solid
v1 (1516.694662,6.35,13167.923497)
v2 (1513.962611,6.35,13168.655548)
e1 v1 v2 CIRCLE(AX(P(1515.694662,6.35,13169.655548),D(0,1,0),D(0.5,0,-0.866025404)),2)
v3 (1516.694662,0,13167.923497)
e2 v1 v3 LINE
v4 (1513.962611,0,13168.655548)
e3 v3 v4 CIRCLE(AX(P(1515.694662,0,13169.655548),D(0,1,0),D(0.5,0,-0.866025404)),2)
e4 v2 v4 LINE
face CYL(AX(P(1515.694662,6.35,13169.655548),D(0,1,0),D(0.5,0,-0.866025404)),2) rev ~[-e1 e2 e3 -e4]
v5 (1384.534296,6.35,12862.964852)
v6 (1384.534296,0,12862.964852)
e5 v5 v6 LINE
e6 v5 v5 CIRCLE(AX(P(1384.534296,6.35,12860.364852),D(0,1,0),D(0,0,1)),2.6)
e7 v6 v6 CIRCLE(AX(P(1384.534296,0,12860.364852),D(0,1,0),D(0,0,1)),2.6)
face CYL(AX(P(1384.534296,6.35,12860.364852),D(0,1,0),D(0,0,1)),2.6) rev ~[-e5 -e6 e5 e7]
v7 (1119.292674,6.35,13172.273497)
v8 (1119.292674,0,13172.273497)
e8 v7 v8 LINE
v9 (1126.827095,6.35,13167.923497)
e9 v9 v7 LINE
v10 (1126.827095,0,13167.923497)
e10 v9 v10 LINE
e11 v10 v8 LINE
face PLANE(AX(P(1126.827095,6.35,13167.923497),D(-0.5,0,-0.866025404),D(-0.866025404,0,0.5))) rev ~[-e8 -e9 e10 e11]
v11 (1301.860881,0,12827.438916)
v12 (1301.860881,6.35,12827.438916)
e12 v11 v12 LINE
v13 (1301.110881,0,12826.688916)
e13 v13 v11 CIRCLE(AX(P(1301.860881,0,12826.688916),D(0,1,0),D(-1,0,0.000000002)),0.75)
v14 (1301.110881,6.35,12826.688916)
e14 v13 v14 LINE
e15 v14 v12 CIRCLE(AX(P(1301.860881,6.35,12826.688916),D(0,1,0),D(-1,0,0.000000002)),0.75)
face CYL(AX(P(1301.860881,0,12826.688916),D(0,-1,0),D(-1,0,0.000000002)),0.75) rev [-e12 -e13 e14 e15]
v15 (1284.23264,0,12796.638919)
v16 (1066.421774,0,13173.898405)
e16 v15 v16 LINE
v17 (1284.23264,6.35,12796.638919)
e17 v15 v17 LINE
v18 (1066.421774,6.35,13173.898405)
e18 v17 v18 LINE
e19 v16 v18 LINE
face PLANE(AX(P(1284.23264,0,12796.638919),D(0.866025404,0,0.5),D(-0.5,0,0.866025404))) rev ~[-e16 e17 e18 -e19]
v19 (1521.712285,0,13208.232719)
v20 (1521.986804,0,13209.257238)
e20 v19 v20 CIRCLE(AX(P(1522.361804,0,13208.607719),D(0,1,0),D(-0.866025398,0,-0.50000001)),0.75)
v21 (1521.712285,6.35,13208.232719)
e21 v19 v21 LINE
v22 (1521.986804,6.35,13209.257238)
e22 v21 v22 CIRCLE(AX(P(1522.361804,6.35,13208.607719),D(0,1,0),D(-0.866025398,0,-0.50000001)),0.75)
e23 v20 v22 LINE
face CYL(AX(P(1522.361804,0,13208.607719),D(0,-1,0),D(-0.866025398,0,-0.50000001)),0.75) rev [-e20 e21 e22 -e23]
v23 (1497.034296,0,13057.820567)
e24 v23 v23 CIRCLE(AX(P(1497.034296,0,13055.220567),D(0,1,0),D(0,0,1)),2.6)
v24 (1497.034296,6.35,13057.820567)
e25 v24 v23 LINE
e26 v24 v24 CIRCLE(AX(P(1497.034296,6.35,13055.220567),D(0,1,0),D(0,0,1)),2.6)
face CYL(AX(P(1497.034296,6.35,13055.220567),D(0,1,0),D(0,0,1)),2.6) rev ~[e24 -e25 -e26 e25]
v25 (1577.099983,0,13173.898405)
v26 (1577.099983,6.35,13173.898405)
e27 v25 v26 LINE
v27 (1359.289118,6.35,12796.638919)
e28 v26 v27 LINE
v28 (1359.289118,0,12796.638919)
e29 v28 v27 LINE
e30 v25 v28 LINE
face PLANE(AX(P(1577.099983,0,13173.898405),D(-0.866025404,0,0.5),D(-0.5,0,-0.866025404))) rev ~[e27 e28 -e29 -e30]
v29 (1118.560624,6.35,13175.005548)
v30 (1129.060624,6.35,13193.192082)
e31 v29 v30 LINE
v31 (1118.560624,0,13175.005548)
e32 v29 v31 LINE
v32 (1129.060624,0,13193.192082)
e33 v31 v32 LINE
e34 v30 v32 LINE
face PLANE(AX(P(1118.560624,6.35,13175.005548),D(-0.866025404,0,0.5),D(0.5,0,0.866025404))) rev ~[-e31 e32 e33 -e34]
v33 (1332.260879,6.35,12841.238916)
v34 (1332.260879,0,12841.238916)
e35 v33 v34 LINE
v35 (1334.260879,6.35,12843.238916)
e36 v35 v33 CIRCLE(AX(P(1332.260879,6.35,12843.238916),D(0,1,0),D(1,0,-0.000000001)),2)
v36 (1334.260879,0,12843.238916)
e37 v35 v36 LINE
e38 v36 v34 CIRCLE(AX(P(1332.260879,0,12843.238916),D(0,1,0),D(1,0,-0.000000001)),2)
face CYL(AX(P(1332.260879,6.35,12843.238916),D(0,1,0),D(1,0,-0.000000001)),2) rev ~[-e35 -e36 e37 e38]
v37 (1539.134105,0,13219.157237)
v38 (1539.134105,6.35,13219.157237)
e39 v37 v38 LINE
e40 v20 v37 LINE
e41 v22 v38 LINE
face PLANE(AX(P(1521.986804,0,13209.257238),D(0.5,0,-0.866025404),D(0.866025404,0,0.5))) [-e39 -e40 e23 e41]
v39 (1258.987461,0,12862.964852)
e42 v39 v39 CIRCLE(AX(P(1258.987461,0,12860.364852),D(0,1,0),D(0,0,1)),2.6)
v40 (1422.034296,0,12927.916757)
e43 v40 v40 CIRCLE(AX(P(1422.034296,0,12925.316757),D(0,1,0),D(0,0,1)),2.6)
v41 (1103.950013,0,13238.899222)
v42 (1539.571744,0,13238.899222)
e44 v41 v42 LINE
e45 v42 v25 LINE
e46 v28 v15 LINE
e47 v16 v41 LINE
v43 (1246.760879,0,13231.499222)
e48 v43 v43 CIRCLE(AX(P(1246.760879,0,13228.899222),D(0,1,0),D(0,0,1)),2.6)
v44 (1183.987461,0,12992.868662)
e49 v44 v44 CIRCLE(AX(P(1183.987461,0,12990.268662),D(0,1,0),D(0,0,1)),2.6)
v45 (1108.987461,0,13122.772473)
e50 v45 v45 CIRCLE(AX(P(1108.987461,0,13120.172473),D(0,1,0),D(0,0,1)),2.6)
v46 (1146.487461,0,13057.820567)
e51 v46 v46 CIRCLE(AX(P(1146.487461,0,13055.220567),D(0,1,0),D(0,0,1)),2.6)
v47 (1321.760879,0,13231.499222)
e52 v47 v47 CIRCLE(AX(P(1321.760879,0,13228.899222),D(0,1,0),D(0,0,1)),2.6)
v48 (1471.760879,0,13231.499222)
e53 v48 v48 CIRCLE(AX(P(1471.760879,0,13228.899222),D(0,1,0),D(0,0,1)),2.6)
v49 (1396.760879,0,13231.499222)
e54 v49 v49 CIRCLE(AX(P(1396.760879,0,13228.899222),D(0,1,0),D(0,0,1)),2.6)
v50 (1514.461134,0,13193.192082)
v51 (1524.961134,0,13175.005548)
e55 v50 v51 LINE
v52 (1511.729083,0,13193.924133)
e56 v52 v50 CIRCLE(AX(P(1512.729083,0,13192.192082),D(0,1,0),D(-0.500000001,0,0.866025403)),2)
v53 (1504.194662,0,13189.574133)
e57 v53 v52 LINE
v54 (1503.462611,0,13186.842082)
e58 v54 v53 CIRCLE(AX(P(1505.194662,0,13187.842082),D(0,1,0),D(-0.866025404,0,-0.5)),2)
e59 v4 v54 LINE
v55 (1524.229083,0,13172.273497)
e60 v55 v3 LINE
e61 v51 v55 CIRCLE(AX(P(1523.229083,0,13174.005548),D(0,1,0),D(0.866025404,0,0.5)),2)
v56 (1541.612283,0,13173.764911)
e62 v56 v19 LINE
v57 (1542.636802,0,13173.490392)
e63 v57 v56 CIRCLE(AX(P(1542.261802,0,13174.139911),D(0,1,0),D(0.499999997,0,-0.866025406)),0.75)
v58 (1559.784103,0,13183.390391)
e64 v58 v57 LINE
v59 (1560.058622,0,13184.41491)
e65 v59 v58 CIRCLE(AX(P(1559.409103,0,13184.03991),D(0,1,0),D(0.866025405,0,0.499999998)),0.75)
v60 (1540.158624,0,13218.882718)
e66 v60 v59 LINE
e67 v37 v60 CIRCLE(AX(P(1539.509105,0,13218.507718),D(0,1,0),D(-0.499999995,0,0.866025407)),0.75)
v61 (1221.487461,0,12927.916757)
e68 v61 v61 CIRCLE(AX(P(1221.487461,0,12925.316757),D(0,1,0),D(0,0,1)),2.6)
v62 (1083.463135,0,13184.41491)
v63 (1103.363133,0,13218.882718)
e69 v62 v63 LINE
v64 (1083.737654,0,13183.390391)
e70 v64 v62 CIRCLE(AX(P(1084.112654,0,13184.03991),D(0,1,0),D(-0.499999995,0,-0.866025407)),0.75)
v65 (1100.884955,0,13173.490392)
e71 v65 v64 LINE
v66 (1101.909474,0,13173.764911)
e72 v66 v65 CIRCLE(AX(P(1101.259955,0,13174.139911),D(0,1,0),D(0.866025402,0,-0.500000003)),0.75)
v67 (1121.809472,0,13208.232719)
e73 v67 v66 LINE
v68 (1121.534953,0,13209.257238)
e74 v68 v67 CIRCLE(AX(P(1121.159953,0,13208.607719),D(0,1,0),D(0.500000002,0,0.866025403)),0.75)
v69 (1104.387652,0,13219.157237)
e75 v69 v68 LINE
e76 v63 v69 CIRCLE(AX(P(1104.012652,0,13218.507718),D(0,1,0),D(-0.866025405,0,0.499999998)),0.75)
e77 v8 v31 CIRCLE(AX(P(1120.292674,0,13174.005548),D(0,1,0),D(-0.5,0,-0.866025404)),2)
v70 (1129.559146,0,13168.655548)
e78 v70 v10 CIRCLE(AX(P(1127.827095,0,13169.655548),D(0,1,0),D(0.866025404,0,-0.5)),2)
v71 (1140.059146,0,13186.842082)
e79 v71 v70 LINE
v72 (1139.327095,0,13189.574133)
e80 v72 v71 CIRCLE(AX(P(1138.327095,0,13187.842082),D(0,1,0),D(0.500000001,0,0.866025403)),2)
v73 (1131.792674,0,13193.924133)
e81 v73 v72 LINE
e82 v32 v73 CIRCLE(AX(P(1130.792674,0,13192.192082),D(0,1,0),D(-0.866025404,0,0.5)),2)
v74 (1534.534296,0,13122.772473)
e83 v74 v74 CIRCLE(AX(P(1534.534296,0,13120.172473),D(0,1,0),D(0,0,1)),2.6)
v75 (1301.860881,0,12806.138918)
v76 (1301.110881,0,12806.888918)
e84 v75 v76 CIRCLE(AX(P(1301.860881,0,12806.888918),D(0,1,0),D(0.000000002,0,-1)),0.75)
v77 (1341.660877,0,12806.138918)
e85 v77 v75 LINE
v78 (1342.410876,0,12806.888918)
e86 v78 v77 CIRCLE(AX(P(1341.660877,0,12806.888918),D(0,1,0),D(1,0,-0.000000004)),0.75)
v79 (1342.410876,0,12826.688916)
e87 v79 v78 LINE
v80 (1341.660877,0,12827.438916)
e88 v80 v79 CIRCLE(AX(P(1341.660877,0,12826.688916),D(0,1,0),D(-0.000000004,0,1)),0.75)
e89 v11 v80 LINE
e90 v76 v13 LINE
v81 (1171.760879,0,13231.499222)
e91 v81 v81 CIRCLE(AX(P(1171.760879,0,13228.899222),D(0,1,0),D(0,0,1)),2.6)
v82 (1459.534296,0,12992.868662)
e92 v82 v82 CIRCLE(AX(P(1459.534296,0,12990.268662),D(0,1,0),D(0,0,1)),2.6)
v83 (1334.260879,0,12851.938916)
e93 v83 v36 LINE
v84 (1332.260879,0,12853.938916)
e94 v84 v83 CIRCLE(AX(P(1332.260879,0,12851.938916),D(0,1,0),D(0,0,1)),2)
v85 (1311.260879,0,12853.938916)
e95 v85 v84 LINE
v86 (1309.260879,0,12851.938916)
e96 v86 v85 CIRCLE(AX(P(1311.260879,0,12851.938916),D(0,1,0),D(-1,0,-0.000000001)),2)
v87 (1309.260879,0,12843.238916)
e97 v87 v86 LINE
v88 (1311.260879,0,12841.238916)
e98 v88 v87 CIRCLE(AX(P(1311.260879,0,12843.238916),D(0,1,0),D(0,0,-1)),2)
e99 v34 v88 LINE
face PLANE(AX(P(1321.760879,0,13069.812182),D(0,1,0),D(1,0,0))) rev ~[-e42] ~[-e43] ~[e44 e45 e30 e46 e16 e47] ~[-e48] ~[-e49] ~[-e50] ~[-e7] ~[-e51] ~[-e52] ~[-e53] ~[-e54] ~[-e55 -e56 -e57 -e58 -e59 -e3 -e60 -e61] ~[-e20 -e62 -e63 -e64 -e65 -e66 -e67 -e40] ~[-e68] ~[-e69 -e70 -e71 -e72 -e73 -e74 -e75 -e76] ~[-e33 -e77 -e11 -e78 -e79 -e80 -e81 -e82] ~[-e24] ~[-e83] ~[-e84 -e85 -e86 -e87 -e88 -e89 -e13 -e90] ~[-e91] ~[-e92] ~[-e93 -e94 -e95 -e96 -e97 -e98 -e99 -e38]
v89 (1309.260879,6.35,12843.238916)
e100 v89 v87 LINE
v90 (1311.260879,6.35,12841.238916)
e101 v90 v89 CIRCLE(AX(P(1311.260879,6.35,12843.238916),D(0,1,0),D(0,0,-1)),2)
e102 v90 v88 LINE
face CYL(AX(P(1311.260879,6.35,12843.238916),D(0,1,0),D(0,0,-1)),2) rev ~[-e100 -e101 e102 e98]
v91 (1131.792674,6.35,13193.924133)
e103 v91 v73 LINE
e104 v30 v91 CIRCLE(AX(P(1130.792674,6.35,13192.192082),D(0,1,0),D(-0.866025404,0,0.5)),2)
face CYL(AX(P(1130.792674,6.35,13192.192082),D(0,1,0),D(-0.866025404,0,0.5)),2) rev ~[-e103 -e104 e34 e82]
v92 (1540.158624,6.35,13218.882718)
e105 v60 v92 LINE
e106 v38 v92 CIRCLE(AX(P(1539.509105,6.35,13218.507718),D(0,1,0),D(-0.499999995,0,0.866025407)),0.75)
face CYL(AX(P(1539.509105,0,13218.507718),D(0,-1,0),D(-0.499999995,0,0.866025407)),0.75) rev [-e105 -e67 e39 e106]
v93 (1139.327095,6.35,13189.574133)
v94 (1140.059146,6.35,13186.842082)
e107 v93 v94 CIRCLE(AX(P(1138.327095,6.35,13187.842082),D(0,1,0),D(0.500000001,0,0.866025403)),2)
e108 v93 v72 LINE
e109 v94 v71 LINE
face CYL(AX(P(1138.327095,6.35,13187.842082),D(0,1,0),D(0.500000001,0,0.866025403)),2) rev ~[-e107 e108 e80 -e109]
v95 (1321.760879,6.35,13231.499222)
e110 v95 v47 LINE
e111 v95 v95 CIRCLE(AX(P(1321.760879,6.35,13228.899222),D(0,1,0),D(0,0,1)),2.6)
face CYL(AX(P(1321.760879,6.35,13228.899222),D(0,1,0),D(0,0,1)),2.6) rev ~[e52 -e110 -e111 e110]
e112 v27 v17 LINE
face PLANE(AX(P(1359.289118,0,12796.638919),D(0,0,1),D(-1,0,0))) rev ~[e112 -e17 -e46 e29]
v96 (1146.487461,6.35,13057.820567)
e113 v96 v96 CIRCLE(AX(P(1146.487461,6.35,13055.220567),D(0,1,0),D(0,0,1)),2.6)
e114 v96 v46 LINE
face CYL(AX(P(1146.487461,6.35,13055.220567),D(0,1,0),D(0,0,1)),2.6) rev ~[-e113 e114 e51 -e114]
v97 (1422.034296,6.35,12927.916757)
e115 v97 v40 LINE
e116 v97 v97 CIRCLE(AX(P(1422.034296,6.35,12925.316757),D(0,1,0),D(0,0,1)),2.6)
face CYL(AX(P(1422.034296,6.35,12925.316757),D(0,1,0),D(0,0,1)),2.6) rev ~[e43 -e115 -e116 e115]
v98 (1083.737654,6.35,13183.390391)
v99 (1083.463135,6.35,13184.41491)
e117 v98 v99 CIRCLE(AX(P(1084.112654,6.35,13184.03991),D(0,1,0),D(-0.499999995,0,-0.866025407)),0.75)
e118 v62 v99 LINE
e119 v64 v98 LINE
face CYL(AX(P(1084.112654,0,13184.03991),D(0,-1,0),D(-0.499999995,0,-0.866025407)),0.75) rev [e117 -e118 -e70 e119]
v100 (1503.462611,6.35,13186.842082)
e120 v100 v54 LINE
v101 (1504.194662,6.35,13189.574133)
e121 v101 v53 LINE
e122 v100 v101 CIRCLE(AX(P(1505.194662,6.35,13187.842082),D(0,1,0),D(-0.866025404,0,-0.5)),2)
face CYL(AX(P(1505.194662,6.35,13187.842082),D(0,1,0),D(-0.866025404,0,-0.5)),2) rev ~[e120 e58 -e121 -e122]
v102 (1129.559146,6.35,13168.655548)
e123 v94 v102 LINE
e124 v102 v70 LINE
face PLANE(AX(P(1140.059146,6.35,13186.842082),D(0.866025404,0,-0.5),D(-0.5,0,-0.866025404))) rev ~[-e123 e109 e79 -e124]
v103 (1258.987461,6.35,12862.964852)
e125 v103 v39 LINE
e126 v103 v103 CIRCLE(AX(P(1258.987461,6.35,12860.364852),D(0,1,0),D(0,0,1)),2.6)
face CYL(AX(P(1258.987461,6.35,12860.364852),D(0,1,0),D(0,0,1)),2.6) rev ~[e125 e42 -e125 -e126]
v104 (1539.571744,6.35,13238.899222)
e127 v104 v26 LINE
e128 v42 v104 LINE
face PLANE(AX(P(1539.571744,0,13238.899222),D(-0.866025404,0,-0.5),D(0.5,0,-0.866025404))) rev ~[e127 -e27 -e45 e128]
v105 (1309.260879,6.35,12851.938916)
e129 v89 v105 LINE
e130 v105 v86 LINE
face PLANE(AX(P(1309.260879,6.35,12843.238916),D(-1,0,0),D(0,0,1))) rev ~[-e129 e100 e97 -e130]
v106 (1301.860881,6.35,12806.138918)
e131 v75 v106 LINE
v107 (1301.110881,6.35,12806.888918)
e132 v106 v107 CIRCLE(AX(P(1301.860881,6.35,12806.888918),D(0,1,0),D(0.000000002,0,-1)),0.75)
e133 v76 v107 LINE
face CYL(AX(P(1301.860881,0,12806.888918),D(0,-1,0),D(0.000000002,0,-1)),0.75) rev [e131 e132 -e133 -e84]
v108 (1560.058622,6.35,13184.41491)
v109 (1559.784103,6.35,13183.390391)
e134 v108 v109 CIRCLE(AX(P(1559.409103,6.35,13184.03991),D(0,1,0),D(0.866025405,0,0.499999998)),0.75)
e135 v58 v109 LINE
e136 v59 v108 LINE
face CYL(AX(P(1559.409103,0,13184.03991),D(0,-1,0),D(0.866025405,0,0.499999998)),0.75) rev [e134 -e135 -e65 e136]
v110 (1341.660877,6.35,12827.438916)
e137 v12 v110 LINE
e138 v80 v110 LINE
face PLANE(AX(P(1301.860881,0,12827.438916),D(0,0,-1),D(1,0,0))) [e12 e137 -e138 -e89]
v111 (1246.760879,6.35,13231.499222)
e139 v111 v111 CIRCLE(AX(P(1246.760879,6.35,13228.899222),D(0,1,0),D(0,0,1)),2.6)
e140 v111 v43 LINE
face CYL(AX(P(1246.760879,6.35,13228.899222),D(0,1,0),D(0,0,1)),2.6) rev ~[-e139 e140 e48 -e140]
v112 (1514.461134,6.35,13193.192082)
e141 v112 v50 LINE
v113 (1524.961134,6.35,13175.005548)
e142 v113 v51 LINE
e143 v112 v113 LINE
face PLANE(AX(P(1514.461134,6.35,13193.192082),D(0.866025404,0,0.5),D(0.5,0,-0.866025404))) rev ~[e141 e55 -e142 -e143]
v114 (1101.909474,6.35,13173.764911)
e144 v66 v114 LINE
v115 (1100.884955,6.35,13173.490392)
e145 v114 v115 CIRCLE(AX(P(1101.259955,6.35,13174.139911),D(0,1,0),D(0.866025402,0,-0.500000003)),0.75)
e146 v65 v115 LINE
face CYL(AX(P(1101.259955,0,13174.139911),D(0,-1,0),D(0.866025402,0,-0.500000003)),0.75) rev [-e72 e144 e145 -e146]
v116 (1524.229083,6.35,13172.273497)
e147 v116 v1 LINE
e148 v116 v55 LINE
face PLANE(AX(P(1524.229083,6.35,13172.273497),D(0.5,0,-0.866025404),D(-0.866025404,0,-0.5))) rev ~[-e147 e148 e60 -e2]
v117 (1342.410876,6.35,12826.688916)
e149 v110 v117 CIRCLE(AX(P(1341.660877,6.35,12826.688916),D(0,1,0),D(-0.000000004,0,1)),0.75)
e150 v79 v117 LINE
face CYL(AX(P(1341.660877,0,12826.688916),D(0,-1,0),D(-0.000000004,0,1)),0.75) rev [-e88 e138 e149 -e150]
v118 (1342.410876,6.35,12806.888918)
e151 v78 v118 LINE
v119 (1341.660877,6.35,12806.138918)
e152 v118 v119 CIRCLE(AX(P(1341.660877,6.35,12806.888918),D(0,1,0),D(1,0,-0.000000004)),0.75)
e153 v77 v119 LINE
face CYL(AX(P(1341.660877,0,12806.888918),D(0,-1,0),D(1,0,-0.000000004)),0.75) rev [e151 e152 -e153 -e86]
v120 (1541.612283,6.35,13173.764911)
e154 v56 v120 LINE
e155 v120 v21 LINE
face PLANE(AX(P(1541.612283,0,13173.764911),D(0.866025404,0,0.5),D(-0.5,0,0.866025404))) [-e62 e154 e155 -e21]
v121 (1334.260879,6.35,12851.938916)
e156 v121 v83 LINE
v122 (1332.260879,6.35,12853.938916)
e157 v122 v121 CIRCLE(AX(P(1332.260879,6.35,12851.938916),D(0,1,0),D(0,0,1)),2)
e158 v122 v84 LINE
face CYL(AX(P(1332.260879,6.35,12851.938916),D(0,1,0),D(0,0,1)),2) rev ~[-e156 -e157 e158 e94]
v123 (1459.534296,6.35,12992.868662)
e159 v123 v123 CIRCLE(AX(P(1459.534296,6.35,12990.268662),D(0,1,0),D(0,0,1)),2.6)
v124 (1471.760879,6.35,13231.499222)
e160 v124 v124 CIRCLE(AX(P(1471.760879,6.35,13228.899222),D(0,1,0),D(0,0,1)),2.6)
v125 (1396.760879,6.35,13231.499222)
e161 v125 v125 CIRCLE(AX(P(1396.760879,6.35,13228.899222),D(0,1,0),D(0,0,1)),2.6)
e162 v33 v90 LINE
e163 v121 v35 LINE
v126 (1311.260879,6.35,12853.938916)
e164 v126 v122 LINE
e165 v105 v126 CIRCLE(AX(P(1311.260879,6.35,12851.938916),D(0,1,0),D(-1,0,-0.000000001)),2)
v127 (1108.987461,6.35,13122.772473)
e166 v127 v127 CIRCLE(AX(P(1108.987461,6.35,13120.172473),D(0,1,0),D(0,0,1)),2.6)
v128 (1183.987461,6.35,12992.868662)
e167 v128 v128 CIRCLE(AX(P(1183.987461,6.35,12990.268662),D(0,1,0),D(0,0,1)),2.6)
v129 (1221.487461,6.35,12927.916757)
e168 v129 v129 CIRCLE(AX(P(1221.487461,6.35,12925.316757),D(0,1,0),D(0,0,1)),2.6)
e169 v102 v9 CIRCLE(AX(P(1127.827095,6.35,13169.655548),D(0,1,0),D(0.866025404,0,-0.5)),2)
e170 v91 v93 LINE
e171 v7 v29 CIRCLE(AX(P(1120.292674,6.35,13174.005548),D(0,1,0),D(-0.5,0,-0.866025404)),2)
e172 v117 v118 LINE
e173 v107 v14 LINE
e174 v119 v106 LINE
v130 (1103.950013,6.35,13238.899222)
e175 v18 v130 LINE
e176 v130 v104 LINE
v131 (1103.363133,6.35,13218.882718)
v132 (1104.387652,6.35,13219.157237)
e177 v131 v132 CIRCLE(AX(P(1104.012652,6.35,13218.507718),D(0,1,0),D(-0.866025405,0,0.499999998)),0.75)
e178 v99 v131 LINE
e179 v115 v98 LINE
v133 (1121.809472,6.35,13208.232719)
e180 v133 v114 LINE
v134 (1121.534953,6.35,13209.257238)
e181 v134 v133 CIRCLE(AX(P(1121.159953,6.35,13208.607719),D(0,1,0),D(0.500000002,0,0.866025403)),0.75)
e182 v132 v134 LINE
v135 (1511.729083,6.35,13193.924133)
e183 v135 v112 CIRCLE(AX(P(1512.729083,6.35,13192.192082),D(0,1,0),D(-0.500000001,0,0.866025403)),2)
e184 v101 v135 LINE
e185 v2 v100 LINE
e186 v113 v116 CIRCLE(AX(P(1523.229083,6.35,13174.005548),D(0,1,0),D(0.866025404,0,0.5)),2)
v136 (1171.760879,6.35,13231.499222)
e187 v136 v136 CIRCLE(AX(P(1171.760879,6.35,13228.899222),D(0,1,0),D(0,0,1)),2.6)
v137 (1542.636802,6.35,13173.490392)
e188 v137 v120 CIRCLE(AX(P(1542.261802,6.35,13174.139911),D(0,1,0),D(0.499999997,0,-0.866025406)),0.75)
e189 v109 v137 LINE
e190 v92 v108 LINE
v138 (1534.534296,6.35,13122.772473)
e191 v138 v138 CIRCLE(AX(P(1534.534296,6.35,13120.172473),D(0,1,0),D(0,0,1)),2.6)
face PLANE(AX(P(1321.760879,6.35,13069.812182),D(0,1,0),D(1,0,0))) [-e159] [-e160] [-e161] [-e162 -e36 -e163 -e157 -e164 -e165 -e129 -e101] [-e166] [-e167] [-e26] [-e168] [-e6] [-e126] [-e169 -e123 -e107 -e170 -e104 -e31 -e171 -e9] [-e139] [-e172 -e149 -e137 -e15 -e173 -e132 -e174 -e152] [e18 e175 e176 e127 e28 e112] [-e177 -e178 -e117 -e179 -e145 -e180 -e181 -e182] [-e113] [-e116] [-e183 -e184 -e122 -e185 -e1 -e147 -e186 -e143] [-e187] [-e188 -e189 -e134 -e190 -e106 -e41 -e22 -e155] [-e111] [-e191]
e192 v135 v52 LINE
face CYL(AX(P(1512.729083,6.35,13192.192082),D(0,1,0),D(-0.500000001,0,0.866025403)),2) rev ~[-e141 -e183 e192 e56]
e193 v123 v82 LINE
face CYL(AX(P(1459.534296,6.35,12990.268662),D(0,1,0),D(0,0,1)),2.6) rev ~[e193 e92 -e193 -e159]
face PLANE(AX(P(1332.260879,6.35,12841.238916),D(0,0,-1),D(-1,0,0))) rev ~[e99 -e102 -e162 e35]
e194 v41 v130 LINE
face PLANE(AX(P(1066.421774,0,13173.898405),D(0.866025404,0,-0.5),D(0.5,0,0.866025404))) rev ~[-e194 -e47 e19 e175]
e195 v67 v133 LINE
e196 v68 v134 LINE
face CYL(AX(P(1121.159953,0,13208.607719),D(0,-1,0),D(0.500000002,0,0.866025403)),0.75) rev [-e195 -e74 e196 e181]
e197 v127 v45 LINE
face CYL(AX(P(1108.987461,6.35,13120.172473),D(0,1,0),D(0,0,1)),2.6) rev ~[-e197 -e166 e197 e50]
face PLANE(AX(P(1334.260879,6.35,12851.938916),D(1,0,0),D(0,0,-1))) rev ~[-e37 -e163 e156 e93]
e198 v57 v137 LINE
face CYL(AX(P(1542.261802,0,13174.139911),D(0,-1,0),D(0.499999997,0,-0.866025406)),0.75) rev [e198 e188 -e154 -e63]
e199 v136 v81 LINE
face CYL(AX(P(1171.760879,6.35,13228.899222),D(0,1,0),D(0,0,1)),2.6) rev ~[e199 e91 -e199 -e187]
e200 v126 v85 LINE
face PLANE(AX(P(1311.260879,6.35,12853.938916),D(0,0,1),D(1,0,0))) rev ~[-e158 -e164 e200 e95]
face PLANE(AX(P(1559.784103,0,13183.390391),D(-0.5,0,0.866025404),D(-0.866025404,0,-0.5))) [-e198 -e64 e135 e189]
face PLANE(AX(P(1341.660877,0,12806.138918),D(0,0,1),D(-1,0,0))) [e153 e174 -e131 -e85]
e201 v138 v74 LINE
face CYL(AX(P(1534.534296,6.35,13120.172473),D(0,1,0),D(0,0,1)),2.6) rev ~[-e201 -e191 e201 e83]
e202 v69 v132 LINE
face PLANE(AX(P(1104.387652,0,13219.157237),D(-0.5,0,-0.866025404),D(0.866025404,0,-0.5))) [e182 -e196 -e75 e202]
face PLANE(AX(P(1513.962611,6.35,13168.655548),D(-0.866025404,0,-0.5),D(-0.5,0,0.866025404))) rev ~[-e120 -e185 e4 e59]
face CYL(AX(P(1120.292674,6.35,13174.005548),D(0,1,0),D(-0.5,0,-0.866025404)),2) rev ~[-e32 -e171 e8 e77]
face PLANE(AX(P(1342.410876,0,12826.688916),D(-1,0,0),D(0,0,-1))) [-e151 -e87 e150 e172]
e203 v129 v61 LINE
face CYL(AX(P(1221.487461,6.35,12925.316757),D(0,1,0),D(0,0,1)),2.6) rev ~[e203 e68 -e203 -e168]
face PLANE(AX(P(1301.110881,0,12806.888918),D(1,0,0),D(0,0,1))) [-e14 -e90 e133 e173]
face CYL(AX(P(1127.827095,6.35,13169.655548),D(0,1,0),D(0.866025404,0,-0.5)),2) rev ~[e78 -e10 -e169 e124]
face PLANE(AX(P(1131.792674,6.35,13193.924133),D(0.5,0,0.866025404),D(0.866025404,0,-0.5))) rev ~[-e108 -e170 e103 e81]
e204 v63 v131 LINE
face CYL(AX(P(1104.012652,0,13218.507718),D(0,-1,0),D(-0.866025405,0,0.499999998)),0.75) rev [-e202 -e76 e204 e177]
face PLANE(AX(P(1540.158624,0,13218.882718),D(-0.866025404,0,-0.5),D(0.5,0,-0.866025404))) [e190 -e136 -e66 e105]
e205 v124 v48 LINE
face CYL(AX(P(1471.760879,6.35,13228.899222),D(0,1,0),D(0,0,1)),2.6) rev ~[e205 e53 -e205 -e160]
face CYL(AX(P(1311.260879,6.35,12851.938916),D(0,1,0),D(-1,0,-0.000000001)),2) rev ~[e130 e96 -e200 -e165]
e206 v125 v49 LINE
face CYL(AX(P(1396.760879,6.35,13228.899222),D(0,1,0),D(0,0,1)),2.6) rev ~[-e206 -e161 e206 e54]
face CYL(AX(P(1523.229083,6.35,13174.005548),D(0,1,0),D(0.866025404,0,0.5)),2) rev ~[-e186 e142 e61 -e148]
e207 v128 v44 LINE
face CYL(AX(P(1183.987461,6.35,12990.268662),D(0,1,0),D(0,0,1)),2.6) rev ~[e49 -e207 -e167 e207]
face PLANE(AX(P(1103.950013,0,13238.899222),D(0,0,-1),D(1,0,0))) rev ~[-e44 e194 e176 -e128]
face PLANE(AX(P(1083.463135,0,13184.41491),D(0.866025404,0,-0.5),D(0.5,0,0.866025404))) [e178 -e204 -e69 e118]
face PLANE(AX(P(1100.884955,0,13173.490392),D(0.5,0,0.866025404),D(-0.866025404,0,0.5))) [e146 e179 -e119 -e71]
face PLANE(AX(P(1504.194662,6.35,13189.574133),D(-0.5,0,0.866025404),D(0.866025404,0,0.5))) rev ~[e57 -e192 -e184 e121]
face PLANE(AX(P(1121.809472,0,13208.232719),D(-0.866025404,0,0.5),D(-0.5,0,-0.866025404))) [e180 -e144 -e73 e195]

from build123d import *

# Parameters (mm, degrees)
SKETCH1_R           = 150.5
BOSS_EXTRUDE1_DEPTH = 6.35
SKETCH3_R           = 2.6
CUT_EXTRUDE2_DEPTH  = 10
CUT_EXTRUDE3_DEPTH  = 10


with BuildPart() as part:
    # Sketch1 → Boss-Extrude1 (new body)
    # profile 1 of 2: a face of its own
    with BuildSketch(Plane(origin=(-388.281715987, 0, -288.185661777), x_dir=(1, 0, 0), z_dir=(0, 1, 0))):
        Polygon((1927.853460271, -13527.084883536), (1965.381699324, -13462.084066777), (1747.570833697, -13084.824581071), (1672.514355591, -13084.824581071), (1454.703489965, -13462.084066777), (1492.231729019, -13527.084883536), align=None)
        with Locations((1710.042594644, -13357.997843795)):
            Circle(SKETCH1_R, mode=Mode.SUBTRACT)
        with BuildLine():
            ThreePointArc((1909.99400131, -13496.418380494), (1909.919076, -13496.98749472), (1910.268520339, -13497.442899434))
            Line((1910.268520339, -13497.442899434), (1927.415821483, -13507.342898365))
            ThreePointArc((1927.415821483, -13507.342898365), (1927.984935702, -13507.417823673), (1928.440340423, -13507.068379346))
            Line((1928.440340423, -13507.068379346), (1948.340338275, -13472.600571997))
            ThreePointArc((1948.340338275, -13472.600571997), (1948.415263583, -13472.031457775), (1948.065819252, -13471.576053055))
            Line((1948.065819252, -13471.576053055), (1930.918518105, -13461.676054122))
            ThreePointArc((1930.918518105, -13461.676054122), (1930.349403886, -13461.601128813), (1929.893999164, -13461.95057314))
            Line((1929.893999164, -13461.95057314), (1909.99400131, -13496.418380494))
        make_face(mode=Mode.SUBTRACT)
        with BuildLine():
            ThreePointArc((1472.019370034, -13471.57605305), (1471.669925699, -13472.031457773), (1471.744851013, -13472.600571998))
            Line((1471.744851013, -13472.600571998), (1491.644848864, -13507.068379347))
            ThreePointArc((1491.644848864, -13507.068379347), (1492.100253585, -13507.41782368), (1492.669367808, -13507.342898369))
            Line((1492.669367808, -13507.342898369), (1509.816668952, -13497.442899438))
            ThreePointArc((1509.816668952, -13497.442899438), (1510.166113284, -13496.987494718), (1510.091187977, -13496.418380495))
            Line((1510.091187977, -13496.418380495), (1490.191190123, -13461.950573141))
            ThreePointArc((1490.191190123, -13461.950573141), (1489.735785404, -13461.60112881), (1489.166671181, -13461.676054117))
            Line((1489.166671181, -13461.676054117), (1472.019370034, -13471.57605305))
        make_face(mode=Mode.SUBTRACT)
        with BuildLine():
            ThreePointArc((1689.392596873, -13114.874577827), (1689.612266763, -13115.404907856), (1690.142596792, -13115.62457775))
            Line((1690.142596792, -13115.62457775), (1729.942592497, -13115.62457775))
            ThreePointArc((1729.942592497, -13115.62457775), (1730.472922528, -13115.404907859), (1730.692592416, -13114.874577827))
            Line((1730.692592416, -13114.874577827), (1730.692592416, -13095.074579966))
            ThreePointArc((1730.692592416, -13095.074579966), (1730.472922526, -13094.544249938), (1729.942592497, -13094.324580043))
            Line((1729.942592497, -13094.324580043), (1690.142596792, -13094.324580043))
            ThreePointArc((1690.142596792, -13094.324580043), (1689.612266761, -13094.544249935), (1689.392596873, -13095.074579966))
            Line((1689.392596873, -13095.074579966), (1689.392596873, -13114.874577827))
        make_face(mode=Mode.SUBTRACT)
    # profile 2 of 2: a face of its own
    with BuildSketch(Plane(origin=(-388.281715987, 0, -288.185661777), x_dir=(1, 0, 0), z_dir=(0, 1, 0))):
        with Locations((1710.042594644, -13357.997843795)):
            Circle(SKETCH1_R)
    extrude(amount=BOSS_EXTRUDE1_DEPTH)

    # Sketch3 → Cut-Extrude2 (cut)
    with BuildSketch(Plane(origin=(0, 6.35, 0), x_dir=(1, 0, 0), z_dir=(0, 1, 0))):
        with Locations(Location((1183.987460829, -12990.268662147, 0), (0, 0, 270))):
            Circle(SKETCH3_R)
        with Locations(Location((1146.487460829, -13055.220567431, 0), (0, 0, 270))):
            Circle(SKETCH3_R)
        with Locations(Location((1108.987460829, -13120.172472715, 0), (0, 0, 270))):
            Circle(SKETCH3_R)
        with Locations(Location((1221.487460829, -12925.316756863, 0), (0, 0, 270))):
            Circle(SKETCH3_R)
        with Locations(Location((1258.987460829, -12860.364851579, 0), (0, 0, 270))):
            Circle(SKETCH3_R)
        with Locations(Location((1459.534296487, -12990.268662148, 0), (0, 0, 270))):
            Circle(SKETCH3_R)
        with Locations(Location((1497.034296487, -13055.220567432, 0), (0, 0, 270))):
            Circle(SKETCH3_R)
        with Locations(Location((1534.534296487, -13120.172472716, 0), (0, 0, 270))):
            Circle(SKETCH3_R)
        with Locations(Location((1422.034296487, -12925.316756864, 0), (0, 0, 270))):
            Circle(SKETCH3_R)
        with Locations(Location((1384.534296487, -12860.364851581, 0), (0, 0, 270))):
            Circle(SKETCH3_R)
        with Locations(Location((1321.760878657, -13228.899221759, 0), (0, 0, 270))):
            Circle(SKETCH3_R)
        with Locations(Location((1246.760878657, -13228.899221759, 0), (0, 0, 270))):
            Circle(SKETCH3_R)
        with Locations(Location((1171.760878657, -13228.899221759, 0), (0, 0, 270))):
            Circle(SKETCH3_R)
        with Locations(Location((1396.760878657, -13228.899221759, 0), (0, 0, 270))):
            Circle(SKETCH3_R)
        with Locations(Location((1471.760878657, -13228.899221759, 0), (0, 0, 270))):
            Circle(SKETCH3_R)
    extrude(amount=-CUT_EXTRUDE2_DEPTH, mode=Mode.SUBTRACT)

    # Sketch4 → Cut-Extrude3 (cut)
    with BuildSketch(Plane(origin=(0, 6.35, 0), x_dir=(1, 0, 0), z_dir=(0, 1, 0))):
        with BuildLine():
            Line((1118.560623635, -13175.005548302), (1129.060623635, -13193.192081781))
            ThreePointArc((1129.060623635, -13193.192081781), (1130.275036352, -13194.123933434), (1131.792674443, -13193.924132589))
            Line((1131.792674443, -13193.924132589), (1139.327095456, -13189.574132589))
            ThreePointArc((1139.327095456, -13189.574132589), (1140.258947108, -13188.359719871), (1140.059146263, -13186.842081781))
            Line((1140.059146263, -13186.842081781), (1129.559146263, -13168.655548302))
            ThreePointArc((1129.559146263, -13168.655548302), (1128.344733546, -13167.723696649), (1126.827095456, -13167.923497494))
            Line((1126.827095456, -13167.923497494), (1119.292674443, -13172.273497494))
            ThreePointArc((1119.292674443, -13172.273497494), (1118.36082279, -13173.487910212), (1118.560623635, -13175.005548302))
        make_face()
        with BuildLine():
            Line((1332.260878658, -12841.23891597), (1311.260878658, -12841.23891597))
            ThreePointArc((1311.260878658, -12841.23891597), (1309.846665095, -12841.824702408), (1309.260878658, -12843.23891597))
            Line((1309.260878658, -12843.23891597), (1309.260878658, -12851.93891597))
            ThreePointArc((1309.260878658, -12851.93891597), (1309.846665095, -12853.353129533), (1311.260878658, -12853.93891597))
            Line((1311.260878658, -12853.93891597), (1332.260878658, -12853.93891597))
            ThreePointArc((1332.260878658, -12853.93891597), (1333.67509222, -12853.353129533), (1334.260878658, -12851.93891597))
            Line((1334.260878658, -12851.93891597), (1334.260878658, -12843.23891597))
            ThreePointArc((1334.260878658, -12843.23891597), (1333.67509222, -12841.824702408), (1332.260878658, -12841.23891597))
        make_face()
        with BuildLine():
            Line((1514.461133681, -13193.192081781), (1524.961133681, -13175.005548301))
            ThreePointArc((1524.961133681, -13175.005548301), (1525.160934526, -13173.487910211), (1524.229082873, -13172.273497494))
            Line((1524.229082873, -13172.273497494), (1516.69466186, -13167.923497494))
            ThreePointArc((1516.69466186, -13167.923497494), (1515.17702377, -13167.723696649), (1513.962611053, -13168.655548301))
            Line((1513.962611053, -13168.655548301), (1503.462611053, -13186.842081781))
            ThreePointArc((1503.462611053, -13186.842081781), (1503.262810208, -13188.359719871), (1504.19466186, -13189.574132588))
            Line((1504.19466186, -13189.574132588), (1511.729082873, -13193.924132588))
            ThreePointArc((1511.729082873, -13193.924132588), (1513.246720964, -13194.123933434), (1514.461133681, -13193.192081781))
        make_face()
    extrude(amount=-CUT_EXTRUDE3_DEPTH, mode=Mode.SUBTRACT)


solid = part.part
